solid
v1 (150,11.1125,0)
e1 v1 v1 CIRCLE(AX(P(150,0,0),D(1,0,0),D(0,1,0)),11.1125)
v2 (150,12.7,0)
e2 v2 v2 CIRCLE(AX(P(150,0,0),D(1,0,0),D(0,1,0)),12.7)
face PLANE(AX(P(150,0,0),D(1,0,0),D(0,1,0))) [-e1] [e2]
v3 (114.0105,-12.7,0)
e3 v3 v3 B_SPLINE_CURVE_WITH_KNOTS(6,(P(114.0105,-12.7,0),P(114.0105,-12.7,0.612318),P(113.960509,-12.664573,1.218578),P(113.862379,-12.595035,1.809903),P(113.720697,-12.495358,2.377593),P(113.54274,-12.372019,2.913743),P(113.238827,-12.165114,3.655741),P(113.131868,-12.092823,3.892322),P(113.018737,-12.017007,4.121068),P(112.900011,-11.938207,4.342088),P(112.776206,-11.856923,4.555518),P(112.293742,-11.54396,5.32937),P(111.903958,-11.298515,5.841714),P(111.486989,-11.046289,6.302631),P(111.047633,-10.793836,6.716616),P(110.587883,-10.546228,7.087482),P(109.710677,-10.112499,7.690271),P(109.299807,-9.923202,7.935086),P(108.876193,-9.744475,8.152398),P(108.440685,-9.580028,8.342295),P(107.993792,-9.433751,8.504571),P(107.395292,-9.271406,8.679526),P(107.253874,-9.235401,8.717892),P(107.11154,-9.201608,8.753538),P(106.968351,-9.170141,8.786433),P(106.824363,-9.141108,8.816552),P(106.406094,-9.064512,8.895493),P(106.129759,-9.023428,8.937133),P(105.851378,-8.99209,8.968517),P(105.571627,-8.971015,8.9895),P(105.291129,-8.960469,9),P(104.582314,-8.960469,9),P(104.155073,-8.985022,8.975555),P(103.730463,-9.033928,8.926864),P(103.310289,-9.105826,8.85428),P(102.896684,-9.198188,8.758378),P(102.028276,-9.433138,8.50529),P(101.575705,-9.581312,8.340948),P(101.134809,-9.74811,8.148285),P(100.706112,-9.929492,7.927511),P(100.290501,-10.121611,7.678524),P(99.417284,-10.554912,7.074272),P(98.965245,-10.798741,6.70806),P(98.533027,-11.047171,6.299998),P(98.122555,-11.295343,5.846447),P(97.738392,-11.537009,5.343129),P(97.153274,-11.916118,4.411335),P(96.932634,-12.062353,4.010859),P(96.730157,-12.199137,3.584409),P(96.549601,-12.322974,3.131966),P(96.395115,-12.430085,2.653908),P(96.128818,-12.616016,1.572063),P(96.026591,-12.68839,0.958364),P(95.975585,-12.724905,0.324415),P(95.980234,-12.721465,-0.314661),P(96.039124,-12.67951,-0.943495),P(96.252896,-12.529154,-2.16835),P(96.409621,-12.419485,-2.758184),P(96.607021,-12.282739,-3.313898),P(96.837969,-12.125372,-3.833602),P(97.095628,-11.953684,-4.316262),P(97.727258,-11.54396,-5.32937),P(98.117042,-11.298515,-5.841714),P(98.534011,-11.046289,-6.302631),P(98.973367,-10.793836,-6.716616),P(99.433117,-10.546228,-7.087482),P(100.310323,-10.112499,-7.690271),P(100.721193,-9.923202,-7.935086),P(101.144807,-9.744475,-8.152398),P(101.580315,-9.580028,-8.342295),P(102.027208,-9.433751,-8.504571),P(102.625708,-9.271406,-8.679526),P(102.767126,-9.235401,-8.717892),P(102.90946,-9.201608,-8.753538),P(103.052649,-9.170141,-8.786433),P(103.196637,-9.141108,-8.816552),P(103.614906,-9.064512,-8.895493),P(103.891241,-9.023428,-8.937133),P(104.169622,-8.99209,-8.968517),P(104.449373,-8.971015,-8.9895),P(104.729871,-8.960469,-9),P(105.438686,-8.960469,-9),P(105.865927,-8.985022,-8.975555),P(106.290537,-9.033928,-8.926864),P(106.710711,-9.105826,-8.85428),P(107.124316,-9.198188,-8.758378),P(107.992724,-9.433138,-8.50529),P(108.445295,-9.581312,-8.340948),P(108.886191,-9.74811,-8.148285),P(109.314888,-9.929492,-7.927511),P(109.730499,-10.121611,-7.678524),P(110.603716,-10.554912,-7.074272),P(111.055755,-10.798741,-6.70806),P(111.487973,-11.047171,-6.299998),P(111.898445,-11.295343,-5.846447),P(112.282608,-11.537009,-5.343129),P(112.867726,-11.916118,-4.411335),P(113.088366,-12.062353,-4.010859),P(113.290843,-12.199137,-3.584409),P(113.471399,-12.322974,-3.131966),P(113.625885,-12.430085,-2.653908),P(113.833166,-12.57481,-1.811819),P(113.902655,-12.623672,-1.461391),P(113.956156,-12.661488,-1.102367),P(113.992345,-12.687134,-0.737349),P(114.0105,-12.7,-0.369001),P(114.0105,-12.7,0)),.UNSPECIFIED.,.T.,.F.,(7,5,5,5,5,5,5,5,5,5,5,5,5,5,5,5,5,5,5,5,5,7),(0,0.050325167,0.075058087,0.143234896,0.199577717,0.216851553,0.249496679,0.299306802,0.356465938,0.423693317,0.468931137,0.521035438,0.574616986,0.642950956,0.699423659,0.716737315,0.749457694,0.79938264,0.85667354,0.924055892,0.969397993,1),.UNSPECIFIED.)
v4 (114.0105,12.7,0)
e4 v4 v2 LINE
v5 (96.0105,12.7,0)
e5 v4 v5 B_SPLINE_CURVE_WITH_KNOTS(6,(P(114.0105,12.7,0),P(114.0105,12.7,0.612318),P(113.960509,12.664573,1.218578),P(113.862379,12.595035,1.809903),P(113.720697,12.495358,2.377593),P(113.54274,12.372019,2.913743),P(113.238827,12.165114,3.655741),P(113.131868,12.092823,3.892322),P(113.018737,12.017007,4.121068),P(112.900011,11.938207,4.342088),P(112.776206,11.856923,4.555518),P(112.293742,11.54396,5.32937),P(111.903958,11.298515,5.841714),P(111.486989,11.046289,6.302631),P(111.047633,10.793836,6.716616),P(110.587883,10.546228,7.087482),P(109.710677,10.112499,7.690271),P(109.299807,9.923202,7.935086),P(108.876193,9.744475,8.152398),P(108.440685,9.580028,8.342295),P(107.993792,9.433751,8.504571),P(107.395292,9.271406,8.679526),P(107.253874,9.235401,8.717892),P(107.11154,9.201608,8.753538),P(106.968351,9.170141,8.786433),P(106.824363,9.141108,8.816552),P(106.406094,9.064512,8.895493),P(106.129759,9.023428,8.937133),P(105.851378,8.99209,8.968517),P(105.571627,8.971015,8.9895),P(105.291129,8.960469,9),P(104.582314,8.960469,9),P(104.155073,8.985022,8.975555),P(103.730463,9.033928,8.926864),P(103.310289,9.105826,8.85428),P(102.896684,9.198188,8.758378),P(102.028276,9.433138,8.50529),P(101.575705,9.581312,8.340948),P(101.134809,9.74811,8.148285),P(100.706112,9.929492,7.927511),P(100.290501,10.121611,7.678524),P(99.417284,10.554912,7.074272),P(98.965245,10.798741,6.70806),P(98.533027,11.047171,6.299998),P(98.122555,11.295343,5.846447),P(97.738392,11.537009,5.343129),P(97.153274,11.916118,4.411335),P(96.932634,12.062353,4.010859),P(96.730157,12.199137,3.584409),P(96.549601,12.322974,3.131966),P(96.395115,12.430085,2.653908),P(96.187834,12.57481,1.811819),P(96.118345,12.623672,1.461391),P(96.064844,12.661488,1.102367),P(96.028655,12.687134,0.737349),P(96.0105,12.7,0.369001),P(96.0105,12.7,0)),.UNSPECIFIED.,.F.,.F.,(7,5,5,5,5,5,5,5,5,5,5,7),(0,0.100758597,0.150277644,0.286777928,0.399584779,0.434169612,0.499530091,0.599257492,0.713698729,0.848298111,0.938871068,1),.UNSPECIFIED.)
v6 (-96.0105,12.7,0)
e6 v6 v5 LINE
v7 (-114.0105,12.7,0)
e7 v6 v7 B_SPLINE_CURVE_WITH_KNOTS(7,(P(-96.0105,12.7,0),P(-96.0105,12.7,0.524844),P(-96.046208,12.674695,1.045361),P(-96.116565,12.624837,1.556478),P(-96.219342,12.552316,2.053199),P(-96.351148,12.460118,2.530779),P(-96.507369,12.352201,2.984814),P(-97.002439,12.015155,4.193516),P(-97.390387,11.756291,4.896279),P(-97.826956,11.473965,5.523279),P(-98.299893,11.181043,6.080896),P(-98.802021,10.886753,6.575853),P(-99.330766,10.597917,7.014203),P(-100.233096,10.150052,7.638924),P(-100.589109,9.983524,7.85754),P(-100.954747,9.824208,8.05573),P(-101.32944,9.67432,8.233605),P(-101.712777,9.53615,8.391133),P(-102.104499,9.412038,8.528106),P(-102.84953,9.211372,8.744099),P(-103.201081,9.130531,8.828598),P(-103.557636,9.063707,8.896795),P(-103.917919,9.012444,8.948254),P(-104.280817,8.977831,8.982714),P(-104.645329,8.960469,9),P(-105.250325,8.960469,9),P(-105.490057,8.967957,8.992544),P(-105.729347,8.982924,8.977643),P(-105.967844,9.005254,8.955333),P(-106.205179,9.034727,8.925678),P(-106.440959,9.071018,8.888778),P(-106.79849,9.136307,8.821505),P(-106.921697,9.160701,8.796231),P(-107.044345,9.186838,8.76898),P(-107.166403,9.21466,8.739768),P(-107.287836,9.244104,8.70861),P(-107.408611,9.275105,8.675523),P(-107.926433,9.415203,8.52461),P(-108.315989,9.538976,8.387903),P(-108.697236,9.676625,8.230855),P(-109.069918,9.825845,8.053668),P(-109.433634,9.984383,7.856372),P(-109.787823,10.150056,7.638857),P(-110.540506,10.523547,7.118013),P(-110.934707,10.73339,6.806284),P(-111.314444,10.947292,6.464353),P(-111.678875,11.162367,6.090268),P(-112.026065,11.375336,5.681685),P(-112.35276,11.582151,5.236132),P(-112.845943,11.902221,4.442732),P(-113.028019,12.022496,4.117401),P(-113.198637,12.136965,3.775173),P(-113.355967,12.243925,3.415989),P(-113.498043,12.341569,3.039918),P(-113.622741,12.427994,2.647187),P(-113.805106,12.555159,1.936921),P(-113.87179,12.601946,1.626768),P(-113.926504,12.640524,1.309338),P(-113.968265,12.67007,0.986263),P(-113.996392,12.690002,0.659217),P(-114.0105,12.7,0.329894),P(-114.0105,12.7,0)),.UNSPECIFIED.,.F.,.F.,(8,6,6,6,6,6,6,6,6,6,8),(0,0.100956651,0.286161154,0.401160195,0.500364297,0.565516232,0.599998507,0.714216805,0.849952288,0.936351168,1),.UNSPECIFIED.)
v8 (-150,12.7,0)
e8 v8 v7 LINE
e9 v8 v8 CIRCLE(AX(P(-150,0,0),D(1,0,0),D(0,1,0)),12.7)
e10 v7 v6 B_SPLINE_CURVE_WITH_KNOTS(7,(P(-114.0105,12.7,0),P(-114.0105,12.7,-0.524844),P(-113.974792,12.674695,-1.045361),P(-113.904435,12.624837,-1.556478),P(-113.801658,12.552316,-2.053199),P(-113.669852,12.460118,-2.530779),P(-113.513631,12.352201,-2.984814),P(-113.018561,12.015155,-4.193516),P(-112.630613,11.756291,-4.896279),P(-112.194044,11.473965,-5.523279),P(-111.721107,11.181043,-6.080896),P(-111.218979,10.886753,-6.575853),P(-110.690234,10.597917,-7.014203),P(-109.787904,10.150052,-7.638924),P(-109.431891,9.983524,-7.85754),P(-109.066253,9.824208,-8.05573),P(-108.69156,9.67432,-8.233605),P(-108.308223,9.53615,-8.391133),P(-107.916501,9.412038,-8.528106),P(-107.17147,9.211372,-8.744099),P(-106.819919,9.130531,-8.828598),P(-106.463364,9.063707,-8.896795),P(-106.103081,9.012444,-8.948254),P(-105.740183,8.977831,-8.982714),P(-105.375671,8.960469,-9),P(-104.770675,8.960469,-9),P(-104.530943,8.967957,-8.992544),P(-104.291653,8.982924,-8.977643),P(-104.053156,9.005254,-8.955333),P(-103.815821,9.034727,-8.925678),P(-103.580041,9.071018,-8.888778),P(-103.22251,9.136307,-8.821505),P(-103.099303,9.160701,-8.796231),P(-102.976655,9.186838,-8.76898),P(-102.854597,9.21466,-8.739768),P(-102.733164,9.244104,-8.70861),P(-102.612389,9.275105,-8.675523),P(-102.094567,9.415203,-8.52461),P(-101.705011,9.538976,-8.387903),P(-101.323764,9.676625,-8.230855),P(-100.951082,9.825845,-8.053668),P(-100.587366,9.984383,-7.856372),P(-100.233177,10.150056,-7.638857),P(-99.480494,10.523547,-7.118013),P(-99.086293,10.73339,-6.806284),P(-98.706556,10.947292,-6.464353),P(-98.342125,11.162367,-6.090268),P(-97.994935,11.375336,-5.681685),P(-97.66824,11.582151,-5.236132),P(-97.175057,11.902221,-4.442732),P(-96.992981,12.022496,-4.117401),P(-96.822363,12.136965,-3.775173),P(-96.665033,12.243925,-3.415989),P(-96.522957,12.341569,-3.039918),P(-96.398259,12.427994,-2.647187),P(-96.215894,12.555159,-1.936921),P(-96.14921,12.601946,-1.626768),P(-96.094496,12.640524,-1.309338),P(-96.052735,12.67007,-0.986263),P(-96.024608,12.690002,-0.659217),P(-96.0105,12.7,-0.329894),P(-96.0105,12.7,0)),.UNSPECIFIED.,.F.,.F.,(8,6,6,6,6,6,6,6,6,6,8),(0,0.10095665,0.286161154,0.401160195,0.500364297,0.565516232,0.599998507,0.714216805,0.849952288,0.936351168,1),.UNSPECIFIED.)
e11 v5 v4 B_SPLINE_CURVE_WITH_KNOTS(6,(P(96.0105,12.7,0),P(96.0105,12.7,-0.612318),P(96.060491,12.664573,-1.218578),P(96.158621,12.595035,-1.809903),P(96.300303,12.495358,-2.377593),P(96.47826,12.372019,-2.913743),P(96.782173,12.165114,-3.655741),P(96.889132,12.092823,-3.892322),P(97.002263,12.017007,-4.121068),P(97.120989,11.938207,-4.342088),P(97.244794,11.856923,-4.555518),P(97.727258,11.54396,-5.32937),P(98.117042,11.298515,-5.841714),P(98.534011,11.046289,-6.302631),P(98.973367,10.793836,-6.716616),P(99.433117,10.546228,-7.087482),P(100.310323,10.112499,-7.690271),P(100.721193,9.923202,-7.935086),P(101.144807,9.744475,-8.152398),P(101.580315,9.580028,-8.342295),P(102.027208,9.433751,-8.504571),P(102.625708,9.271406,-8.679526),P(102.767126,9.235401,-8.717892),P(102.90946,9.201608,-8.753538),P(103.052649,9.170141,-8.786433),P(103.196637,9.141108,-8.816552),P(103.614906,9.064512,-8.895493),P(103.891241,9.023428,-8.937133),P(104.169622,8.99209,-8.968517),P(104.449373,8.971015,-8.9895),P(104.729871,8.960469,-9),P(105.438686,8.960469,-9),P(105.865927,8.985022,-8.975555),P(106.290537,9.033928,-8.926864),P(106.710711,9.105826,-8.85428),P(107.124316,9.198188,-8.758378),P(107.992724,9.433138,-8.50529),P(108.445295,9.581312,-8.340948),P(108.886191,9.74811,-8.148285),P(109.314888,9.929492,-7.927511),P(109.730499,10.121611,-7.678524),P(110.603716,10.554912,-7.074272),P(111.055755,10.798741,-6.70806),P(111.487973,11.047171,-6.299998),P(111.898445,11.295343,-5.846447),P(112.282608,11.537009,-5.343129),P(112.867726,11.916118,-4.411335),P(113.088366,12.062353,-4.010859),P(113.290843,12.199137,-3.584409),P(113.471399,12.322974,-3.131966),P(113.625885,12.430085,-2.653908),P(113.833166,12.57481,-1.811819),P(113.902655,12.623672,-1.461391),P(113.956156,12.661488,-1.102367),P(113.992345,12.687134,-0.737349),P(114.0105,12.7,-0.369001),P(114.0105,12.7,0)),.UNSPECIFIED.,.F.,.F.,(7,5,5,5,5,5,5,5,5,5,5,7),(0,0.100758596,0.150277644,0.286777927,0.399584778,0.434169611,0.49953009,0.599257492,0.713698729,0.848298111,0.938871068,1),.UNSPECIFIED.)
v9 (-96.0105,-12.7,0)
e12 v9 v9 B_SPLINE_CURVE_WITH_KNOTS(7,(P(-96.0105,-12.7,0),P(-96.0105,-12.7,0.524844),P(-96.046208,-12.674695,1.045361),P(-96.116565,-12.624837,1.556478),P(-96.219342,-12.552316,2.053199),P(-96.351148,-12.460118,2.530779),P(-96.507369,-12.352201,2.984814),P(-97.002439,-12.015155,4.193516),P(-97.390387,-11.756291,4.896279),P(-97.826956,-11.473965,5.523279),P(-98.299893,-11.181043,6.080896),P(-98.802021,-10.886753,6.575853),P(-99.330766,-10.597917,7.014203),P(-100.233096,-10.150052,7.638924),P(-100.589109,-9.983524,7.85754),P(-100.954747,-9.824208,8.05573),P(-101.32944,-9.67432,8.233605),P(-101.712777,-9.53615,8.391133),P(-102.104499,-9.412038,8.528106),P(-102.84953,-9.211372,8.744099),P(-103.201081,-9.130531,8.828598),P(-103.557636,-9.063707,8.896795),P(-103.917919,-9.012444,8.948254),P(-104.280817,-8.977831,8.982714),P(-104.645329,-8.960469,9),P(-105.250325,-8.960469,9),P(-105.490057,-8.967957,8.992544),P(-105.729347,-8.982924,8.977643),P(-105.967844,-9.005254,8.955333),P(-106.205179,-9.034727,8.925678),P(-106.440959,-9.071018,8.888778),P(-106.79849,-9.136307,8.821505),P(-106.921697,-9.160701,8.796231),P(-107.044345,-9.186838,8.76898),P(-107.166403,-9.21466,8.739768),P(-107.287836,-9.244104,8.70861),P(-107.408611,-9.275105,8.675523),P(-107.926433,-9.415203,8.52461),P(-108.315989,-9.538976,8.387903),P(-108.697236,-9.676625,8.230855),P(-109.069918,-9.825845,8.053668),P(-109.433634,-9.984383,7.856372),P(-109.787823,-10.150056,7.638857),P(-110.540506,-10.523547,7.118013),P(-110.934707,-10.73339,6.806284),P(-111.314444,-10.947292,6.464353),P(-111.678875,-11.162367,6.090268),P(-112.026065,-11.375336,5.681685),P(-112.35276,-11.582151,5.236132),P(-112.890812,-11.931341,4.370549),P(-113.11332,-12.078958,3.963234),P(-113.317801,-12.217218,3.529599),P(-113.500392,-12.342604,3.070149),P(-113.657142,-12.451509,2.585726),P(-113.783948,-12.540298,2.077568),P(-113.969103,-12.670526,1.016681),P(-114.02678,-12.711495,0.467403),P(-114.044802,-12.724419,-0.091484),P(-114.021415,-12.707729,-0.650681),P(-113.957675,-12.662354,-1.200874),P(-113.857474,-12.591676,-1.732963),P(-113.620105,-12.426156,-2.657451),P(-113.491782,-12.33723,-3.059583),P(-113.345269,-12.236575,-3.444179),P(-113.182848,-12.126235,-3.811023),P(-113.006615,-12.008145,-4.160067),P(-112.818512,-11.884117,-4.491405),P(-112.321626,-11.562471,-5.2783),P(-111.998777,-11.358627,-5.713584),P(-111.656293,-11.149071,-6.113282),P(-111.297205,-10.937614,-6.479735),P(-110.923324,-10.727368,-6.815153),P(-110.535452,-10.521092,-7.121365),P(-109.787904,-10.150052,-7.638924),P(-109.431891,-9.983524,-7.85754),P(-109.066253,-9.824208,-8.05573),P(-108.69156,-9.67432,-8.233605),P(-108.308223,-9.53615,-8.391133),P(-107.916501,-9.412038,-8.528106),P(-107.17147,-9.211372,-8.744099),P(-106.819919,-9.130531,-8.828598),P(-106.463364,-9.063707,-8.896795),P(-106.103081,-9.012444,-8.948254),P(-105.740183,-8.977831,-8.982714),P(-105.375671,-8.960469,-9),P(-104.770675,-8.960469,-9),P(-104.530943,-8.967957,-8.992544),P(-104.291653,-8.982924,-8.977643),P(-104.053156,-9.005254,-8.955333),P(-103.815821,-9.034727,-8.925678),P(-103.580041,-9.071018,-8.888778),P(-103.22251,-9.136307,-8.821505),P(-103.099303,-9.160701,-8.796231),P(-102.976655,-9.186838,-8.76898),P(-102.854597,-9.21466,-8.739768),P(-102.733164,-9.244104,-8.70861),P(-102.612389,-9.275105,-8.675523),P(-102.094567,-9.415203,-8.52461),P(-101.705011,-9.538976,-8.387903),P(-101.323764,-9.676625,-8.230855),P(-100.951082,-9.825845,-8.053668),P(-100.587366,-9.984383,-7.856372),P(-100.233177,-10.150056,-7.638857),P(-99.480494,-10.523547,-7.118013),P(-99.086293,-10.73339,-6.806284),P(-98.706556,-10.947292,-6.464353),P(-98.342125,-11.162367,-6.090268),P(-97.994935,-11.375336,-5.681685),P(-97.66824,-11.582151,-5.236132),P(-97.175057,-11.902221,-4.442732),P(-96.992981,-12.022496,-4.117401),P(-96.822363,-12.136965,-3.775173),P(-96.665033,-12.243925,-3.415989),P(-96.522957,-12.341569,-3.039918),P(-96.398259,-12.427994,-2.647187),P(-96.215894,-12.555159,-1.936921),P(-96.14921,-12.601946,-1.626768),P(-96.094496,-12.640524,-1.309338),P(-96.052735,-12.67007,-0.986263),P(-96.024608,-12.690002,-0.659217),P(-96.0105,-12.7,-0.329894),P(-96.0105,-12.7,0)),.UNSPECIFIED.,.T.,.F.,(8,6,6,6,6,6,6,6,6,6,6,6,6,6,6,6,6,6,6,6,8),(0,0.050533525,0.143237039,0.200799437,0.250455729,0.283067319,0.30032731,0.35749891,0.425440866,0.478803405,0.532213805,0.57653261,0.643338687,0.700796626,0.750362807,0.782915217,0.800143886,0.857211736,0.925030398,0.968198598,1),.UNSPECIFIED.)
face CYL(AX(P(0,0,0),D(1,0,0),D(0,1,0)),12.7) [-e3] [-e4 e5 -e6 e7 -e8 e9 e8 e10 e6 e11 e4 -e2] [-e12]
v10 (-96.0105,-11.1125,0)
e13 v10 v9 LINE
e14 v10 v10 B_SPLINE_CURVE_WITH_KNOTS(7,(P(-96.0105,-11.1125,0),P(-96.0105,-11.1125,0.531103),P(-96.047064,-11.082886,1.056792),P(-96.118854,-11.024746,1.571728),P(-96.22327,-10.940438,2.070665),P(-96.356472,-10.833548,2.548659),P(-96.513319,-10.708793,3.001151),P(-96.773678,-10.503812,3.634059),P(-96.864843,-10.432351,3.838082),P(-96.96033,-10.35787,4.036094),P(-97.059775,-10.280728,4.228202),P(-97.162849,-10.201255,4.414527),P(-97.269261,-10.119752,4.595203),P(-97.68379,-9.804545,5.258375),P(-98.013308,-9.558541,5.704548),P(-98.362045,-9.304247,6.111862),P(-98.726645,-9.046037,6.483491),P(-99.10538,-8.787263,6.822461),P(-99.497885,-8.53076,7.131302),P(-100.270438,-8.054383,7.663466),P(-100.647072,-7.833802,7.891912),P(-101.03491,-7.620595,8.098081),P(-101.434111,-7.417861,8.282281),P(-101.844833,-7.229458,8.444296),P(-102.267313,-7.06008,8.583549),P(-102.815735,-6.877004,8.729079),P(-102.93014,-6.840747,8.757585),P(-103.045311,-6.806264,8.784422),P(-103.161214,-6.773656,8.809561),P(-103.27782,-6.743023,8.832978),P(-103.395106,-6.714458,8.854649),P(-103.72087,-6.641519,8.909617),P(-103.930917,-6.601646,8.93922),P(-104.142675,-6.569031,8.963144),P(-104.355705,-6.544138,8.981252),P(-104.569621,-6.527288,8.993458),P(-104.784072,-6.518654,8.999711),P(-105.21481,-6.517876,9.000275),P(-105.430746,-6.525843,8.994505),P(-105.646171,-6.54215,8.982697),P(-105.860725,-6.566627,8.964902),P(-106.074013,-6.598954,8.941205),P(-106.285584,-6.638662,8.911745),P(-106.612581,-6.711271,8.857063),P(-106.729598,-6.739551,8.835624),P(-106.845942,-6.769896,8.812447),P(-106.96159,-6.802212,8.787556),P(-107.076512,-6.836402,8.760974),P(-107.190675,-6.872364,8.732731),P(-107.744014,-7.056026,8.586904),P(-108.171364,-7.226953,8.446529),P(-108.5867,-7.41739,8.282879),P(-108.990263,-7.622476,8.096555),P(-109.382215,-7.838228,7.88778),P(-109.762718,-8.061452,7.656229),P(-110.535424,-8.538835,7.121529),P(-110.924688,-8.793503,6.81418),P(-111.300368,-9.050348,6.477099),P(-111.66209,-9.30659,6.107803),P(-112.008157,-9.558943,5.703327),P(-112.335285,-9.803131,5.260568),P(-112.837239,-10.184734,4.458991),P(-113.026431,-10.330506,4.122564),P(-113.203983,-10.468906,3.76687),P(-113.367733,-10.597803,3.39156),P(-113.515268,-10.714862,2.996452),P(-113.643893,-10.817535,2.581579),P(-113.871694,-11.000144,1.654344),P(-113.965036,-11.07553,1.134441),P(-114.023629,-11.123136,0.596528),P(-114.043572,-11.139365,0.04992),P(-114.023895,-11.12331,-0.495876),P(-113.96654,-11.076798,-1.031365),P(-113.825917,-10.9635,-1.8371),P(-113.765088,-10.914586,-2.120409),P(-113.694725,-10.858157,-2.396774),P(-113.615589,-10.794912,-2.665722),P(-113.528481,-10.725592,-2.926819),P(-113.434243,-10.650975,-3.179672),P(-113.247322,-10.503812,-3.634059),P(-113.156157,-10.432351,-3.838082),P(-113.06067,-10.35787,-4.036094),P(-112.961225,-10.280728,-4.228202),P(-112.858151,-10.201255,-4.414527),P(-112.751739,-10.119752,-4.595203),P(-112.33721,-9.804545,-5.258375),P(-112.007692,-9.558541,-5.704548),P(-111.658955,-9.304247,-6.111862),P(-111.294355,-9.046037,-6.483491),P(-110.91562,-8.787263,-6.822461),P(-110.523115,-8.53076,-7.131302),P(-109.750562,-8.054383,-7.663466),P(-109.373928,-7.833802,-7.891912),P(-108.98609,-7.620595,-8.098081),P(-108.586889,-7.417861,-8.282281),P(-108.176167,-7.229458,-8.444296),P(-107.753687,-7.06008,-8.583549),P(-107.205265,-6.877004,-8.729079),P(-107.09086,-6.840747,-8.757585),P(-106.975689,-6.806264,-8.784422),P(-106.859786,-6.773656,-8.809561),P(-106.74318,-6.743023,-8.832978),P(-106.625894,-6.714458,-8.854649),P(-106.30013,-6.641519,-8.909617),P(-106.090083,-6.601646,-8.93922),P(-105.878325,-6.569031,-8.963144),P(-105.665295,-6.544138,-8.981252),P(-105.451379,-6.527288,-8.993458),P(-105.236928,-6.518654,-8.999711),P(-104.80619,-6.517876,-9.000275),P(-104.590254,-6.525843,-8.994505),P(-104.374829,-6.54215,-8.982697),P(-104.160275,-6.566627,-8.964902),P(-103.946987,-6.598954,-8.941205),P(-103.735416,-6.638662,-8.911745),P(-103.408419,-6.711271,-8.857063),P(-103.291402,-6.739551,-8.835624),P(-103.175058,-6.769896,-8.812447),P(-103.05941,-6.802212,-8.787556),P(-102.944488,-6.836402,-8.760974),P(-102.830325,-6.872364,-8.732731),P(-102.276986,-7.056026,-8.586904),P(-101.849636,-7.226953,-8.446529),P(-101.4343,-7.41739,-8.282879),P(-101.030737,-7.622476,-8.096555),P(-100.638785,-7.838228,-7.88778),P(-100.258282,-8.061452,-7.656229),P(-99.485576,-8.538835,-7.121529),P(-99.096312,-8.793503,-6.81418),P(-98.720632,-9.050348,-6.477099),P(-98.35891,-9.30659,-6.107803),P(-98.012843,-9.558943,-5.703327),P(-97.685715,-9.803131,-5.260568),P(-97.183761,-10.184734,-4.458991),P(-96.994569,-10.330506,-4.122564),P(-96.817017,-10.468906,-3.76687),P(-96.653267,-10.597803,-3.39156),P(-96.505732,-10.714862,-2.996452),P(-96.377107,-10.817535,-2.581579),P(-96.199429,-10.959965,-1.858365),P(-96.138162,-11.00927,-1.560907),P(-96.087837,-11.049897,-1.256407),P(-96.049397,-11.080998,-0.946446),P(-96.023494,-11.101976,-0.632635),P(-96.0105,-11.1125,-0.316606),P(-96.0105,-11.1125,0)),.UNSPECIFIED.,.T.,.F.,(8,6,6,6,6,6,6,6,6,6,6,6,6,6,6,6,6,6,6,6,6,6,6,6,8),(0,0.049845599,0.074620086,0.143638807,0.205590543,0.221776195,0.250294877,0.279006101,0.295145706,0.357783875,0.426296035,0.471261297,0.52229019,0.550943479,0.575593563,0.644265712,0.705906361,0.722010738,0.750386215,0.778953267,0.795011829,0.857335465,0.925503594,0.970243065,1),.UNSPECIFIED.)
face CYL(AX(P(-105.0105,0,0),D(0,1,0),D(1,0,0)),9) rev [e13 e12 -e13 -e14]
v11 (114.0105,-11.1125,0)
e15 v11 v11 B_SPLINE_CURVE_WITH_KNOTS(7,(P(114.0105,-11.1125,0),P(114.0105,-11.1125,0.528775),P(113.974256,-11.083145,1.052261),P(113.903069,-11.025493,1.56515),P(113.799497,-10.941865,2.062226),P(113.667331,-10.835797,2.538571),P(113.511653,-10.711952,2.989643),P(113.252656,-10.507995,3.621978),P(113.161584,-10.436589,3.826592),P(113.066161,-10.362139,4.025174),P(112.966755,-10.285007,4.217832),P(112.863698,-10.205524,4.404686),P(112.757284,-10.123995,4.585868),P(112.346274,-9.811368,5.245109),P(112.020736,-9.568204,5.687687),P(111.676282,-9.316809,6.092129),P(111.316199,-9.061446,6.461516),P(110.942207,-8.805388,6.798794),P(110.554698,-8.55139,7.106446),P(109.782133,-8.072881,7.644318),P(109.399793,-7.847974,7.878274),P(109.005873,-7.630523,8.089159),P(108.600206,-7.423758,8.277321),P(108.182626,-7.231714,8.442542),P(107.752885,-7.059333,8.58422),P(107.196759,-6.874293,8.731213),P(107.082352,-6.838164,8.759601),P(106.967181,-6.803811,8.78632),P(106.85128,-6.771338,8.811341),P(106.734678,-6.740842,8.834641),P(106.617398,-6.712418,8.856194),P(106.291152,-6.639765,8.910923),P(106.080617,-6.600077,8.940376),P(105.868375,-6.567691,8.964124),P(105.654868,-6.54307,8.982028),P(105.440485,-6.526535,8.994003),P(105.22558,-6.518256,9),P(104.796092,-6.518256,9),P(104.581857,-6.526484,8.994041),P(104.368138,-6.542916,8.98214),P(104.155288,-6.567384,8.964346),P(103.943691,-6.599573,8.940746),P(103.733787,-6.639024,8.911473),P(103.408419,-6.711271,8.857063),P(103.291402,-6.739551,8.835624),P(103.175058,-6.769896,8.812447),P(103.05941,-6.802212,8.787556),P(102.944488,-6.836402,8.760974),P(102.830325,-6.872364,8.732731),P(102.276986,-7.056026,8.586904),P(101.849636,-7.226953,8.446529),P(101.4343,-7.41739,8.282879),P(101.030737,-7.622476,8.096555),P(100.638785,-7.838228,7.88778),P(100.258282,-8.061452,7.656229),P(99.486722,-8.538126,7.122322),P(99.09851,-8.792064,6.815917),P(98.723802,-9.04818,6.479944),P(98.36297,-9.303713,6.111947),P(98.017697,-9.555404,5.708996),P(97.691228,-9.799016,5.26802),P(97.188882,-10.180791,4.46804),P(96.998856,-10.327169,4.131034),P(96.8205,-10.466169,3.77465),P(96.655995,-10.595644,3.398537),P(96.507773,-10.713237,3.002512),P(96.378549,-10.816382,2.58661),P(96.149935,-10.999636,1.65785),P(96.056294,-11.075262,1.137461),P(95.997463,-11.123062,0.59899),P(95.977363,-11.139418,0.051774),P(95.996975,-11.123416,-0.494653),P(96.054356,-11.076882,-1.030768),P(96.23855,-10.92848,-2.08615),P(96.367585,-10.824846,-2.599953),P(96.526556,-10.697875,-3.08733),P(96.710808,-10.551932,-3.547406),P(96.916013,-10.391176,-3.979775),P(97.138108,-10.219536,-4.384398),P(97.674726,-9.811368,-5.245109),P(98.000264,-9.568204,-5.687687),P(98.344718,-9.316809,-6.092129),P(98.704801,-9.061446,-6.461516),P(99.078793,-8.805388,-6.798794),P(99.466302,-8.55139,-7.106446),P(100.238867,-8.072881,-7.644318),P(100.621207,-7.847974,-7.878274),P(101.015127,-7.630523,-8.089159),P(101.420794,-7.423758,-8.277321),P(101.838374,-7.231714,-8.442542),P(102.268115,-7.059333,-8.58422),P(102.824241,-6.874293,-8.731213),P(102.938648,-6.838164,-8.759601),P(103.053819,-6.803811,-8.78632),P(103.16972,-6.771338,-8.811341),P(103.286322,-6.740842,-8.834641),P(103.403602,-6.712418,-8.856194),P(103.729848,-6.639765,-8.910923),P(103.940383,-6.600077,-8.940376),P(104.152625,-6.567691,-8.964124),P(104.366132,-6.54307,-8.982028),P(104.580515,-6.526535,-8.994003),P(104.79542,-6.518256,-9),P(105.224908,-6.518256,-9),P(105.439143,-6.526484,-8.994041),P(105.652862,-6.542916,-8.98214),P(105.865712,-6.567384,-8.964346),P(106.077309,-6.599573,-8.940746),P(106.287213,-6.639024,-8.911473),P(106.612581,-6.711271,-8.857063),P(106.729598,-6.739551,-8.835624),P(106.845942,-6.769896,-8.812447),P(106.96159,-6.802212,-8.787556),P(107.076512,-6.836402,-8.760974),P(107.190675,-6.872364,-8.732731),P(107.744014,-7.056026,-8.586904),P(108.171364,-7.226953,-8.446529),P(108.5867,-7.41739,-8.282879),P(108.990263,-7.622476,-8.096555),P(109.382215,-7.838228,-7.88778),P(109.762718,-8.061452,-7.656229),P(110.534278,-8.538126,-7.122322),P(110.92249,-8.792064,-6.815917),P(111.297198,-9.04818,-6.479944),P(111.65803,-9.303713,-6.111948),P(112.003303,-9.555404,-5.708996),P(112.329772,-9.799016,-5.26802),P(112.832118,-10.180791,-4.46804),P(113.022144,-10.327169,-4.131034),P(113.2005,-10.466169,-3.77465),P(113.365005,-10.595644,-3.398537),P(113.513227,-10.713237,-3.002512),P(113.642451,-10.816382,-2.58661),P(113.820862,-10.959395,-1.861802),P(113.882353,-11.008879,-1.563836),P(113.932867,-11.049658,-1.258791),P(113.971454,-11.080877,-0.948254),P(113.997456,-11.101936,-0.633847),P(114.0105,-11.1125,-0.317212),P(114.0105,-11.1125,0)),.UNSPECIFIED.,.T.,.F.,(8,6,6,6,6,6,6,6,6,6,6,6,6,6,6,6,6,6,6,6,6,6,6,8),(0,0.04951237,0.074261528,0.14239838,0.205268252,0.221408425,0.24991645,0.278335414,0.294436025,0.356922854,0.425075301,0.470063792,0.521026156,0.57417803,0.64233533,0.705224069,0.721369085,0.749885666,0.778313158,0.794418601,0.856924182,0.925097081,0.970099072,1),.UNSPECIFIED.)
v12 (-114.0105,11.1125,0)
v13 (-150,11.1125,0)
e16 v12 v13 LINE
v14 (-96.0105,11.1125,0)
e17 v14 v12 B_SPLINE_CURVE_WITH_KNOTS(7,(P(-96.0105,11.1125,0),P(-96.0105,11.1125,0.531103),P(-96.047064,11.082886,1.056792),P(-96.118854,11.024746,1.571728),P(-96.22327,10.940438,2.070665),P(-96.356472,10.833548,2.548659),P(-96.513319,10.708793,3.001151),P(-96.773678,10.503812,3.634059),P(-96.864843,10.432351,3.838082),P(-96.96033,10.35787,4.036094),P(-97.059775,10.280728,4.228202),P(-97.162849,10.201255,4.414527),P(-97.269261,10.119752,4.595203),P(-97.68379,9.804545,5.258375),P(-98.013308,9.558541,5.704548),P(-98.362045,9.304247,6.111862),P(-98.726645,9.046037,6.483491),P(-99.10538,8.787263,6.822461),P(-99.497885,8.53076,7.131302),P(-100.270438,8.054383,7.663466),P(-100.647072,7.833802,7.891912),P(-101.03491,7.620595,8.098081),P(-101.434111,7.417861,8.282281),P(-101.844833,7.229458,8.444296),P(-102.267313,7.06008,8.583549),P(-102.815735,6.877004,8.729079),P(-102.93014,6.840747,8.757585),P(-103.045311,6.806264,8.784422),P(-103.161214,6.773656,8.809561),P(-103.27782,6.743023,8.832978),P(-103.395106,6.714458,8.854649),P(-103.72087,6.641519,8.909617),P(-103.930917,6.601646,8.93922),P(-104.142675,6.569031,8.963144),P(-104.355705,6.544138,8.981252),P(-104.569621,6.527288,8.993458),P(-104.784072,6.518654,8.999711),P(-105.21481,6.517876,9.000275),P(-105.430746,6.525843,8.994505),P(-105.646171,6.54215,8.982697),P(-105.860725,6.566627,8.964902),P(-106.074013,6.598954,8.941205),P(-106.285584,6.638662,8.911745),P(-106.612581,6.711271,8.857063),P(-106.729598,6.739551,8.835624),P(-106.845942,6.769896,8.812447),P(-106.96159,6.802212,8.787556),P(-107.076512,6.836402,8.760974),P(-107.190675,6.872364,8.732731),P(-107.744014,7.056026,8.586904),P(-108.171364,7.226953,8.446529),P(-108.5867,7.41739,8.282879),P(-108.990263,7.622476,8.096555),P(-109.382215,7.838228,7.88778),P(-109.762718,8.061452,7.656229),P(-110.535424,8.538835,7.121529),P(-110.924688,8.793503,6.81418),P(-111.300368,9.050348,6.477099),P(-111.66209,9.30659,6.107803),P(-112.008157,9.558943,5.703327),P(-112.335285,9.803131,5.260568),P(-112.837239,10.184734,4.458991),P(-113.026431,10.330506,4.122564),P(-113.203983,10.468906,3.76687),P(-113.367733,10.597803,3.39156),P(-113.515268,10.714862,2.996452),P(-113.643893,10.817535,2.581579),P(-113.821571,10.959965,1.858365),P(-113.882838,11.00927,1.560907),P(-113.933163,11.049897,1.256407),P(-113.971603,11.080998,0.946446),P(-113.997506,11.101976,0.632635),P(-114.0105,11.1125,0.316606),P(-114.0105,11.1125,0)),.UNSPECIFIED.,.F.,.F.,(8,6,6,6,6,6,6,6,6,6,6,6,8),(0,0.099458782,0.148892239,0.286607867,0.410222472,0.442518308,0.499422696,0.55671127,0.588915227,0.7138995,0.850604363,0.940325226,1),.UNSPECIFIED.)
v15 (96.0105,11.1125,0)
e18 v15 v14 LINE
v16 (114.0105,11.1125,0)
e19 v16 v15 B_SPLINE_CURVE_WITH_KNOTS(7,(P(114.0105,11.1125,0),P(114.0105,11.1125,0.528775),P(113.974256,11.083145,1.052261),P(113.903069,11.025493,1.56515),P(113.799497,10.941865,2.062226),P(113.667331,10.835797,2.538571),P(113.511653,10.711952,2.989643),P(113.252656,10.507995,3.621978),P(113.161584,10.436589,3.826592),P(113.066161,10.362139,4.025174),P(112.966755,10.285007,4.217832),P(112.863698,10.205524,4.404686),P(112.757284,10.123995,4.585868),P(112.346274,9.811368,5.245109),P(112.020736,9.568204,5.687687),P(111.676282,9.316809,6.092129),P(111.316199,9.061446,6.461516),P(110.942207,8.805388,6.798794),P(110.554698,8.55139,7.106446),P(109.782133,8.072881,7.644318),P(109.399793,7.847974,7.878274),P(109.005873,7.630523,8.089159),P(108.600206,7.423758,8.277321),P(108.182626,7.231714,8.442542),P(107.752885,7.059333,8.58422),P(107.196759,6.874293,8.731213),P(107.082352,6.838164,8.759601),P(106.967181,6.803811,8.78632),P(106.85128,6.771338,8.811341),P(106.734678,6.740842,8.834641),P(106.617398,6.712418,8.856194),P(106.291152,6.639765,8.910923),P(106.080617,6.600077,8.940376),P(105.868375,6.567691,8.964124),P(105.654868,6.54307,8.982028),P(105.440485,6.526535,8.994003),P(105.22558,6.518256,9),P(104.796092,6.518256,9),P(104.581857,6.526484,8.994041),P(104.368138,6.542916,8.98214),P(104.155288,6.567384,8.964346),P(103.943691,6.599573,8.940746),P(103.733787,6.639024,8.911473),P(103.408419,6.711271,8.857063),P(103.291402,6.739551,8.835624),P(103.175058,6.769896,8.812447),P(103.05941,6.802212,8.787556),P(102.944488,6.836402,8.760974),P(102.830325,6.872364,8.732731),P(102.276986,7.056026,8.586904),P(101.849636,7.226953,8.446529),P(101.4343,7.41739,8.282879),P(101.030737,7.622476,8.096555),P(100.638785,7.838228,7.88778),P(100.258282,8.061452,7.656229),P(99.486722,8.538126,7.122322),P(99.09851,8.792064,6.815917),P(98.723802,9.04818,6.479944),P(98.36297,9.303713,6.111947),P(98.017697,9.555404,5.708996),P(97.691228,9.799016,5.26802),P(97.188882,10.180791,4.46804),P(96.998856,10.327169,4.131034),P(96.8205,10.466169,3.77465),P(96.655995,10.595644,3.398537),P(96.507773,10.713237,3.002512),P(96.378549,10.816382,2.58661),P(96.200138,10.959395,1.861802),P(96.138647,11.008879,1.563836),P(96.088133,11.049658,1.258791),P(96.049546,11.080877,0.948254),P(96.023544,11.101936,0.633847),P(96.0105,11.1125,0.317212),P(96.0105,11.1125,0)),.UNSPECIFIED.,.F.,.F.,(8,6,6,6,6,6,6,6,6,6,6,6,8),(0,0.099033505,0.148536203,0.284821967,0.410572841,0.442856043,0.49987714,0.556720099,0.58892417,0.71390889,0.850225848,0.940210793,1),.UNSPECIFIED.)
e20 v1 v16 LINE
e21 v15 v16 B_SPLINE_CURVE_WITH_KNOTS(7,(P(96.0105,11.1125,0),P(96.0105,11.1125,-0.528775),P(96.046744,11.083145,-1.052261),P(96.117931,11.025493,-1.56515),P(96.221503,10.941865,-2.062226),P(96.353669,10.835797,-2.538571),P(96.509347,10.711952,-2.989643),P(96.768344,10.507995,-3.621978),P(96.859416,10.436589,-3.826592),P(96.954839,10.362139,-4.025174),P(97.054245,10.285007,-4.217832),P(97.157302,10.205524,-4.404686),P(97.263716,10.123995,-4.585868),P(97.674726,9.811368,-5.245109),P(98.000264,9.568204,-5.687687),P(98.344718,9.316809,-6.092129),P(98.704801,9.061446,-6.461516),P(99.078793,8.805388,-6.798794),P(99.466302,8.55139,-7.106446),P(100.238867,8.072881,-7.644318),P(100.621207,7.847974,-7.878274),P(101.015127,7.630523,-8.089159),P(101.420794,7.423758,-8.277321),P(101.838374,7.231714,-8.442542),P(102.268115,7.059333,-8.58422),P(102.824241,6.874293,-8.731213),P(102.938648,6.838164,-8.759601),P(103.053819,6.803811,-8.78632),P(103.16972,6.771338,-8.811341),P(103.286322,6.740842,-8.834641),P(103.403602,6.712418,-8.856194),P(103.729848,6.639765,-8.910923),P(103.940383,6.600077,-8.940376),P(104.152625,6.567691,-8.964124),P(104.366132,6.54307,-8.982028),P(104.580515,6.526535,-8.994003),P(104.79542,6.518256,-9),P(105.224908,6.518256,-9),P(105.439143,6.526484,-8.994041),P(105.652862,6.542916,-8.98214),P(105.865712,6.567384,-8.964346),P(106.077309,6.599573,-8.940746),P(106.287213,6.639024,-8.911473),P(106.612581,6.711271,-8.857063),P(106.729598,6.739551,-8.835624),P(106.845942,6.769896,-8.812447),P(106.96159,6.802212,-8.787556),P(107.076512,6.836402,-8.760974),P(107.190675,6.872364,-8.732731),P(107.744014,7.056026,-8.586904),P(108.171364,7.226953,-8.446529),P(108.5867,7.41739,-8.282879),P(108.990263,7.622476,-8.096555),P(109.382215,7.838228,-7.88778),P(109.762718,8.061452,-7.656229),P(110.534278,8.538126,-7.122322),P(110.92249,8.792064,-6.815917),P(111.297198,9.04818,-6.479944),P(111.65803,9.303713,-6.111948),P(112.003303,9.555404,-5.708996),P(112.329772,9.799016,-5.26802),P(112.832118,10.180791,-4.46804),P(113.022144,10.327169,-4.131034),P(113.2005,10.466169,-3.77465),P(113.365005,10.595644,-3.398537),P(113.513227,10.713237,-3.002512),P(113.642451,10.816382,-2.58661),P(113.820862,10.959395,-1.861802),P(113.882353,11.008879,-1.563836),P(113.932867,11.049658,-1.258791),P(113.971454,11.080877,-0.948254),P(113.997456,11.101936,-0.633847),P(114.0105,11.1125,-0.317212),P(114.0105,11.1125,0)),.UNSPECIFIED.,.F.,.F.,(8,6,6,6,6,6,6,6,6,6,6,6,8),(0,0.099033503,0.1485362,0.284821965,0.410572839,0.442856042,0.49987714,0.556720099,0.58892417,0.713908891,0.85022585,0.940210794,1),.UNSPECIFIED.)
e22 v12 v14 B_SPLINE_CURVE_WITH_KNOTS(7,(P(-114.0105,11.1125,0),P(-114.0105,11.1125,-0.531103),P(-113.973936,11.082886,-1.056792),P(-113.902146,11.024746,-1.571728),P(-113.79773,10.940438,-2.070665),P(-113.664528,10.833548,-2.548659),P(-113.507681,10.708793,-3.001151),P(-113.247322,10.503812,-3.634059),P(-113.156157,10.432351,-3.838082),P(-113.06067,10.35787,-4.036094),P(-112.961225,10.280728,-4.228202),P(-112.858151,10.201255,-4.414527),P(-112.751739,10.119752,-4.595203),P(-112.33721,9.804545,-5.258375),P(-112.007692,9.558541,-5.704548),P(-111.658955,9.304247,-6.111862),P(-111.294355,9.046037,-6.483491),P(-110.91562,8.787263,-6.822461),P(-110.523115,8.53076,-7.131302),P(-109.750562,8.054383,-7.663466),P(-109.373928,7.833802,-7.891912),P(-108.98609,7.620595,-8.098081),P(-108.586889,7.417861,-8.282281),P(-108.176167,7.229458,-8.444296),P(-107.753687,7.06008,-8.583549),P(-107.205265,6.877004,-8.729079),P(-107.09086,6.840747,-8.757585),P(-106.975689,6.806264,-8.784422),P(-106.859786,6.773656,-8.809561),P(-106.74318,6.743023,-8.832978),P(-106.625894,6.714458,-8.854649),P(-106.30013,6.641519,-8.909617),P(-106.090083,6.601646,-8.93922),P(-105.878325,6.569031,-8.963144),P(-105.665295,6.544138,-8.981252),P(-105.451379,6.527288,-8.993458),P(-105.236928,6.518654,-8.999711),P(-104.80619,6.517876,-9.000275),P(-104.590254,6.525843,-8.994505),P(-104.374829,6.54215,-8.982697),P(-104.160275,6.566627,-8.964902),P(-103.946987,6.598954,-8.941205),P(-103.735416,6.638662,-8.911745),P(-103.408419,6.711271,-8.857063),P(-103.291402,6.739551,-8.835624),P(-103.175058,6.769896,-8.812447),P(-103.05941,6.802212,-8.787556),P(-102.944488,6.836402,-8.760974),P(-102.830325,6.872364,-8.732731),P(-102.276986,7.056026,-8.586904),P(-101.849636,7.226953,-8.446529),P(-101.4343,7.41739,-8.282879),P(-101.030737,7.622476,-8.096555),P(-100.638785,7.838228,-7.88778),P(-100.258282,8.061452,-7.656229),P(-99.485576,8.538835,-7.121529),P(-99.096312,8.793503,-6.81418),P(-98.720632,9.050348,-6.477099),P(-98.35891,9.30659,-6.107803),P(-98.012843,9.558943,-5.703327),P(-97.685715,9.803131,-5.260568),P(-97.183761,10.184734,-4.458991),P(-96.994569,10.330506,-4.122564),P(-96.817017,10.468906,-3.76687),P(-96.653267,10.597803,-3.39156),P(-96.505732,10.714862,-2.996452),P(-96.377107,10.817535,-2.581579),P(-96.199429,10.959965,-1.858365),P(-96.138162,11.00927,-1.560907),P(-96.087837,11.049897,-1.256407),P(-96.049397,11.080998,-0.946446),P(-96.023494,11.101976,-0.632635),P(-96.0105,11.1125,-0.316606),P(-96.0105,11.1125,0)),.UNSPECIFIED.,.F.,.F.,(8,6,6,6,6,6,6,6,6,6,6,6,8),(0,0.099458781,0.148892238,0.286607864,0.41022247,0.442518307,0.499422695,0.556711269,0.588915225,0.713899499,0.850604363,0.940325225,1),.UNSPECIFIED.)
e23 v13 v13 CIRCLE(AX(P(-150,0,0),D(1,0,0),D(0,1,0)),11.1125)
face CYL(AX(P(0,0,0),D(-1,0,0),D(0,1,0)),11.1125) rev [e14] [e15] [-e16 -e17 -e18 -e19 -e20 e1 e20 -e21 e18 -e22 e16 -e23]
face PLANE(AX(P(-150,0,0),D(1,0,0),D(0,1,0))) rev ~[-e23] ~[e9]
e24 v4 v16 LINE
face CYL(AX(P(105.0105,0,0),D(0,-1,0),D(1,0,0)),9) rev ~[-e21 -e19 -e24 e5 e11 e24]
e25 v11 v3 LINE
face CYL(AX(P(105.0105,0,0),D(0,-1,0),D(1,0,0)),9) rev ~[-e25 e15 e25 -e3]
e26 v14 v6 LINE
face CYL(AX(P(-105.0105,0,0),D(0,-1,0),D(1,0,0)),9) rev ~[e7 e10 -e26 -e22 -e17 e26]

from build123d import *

# Parameters (mm, degrees)
F0_R     = 12.7
F0_R_2   = 11.1125
F1_DEPTH = 150
F2_R     = 9
F3_DEPTH = 15


with BuildPart() as f1:
    # F0 (on Right) → F1 (new body, symmetric)
    with BuildSketch(Plane.YZ):
        Circle(F0_R)
        Circle(F0_R_2, mode=Mode.SUBTRACT)
    extrude(amount=F1_DEPTH, both=True)

    # F2 (on Front) → F3 (cut, symmetric)
    with BuildSketch(Plane.XZ):
        with Locations((-105.0105, 0)):
            Circle(F2_R)
        with Locations((105.0105, 0)):
            Circle(F2_R)
    extrude(amount=F3_DEPTH, both=True, mode=Mode.SUBTRACT)


solid = f1.part
